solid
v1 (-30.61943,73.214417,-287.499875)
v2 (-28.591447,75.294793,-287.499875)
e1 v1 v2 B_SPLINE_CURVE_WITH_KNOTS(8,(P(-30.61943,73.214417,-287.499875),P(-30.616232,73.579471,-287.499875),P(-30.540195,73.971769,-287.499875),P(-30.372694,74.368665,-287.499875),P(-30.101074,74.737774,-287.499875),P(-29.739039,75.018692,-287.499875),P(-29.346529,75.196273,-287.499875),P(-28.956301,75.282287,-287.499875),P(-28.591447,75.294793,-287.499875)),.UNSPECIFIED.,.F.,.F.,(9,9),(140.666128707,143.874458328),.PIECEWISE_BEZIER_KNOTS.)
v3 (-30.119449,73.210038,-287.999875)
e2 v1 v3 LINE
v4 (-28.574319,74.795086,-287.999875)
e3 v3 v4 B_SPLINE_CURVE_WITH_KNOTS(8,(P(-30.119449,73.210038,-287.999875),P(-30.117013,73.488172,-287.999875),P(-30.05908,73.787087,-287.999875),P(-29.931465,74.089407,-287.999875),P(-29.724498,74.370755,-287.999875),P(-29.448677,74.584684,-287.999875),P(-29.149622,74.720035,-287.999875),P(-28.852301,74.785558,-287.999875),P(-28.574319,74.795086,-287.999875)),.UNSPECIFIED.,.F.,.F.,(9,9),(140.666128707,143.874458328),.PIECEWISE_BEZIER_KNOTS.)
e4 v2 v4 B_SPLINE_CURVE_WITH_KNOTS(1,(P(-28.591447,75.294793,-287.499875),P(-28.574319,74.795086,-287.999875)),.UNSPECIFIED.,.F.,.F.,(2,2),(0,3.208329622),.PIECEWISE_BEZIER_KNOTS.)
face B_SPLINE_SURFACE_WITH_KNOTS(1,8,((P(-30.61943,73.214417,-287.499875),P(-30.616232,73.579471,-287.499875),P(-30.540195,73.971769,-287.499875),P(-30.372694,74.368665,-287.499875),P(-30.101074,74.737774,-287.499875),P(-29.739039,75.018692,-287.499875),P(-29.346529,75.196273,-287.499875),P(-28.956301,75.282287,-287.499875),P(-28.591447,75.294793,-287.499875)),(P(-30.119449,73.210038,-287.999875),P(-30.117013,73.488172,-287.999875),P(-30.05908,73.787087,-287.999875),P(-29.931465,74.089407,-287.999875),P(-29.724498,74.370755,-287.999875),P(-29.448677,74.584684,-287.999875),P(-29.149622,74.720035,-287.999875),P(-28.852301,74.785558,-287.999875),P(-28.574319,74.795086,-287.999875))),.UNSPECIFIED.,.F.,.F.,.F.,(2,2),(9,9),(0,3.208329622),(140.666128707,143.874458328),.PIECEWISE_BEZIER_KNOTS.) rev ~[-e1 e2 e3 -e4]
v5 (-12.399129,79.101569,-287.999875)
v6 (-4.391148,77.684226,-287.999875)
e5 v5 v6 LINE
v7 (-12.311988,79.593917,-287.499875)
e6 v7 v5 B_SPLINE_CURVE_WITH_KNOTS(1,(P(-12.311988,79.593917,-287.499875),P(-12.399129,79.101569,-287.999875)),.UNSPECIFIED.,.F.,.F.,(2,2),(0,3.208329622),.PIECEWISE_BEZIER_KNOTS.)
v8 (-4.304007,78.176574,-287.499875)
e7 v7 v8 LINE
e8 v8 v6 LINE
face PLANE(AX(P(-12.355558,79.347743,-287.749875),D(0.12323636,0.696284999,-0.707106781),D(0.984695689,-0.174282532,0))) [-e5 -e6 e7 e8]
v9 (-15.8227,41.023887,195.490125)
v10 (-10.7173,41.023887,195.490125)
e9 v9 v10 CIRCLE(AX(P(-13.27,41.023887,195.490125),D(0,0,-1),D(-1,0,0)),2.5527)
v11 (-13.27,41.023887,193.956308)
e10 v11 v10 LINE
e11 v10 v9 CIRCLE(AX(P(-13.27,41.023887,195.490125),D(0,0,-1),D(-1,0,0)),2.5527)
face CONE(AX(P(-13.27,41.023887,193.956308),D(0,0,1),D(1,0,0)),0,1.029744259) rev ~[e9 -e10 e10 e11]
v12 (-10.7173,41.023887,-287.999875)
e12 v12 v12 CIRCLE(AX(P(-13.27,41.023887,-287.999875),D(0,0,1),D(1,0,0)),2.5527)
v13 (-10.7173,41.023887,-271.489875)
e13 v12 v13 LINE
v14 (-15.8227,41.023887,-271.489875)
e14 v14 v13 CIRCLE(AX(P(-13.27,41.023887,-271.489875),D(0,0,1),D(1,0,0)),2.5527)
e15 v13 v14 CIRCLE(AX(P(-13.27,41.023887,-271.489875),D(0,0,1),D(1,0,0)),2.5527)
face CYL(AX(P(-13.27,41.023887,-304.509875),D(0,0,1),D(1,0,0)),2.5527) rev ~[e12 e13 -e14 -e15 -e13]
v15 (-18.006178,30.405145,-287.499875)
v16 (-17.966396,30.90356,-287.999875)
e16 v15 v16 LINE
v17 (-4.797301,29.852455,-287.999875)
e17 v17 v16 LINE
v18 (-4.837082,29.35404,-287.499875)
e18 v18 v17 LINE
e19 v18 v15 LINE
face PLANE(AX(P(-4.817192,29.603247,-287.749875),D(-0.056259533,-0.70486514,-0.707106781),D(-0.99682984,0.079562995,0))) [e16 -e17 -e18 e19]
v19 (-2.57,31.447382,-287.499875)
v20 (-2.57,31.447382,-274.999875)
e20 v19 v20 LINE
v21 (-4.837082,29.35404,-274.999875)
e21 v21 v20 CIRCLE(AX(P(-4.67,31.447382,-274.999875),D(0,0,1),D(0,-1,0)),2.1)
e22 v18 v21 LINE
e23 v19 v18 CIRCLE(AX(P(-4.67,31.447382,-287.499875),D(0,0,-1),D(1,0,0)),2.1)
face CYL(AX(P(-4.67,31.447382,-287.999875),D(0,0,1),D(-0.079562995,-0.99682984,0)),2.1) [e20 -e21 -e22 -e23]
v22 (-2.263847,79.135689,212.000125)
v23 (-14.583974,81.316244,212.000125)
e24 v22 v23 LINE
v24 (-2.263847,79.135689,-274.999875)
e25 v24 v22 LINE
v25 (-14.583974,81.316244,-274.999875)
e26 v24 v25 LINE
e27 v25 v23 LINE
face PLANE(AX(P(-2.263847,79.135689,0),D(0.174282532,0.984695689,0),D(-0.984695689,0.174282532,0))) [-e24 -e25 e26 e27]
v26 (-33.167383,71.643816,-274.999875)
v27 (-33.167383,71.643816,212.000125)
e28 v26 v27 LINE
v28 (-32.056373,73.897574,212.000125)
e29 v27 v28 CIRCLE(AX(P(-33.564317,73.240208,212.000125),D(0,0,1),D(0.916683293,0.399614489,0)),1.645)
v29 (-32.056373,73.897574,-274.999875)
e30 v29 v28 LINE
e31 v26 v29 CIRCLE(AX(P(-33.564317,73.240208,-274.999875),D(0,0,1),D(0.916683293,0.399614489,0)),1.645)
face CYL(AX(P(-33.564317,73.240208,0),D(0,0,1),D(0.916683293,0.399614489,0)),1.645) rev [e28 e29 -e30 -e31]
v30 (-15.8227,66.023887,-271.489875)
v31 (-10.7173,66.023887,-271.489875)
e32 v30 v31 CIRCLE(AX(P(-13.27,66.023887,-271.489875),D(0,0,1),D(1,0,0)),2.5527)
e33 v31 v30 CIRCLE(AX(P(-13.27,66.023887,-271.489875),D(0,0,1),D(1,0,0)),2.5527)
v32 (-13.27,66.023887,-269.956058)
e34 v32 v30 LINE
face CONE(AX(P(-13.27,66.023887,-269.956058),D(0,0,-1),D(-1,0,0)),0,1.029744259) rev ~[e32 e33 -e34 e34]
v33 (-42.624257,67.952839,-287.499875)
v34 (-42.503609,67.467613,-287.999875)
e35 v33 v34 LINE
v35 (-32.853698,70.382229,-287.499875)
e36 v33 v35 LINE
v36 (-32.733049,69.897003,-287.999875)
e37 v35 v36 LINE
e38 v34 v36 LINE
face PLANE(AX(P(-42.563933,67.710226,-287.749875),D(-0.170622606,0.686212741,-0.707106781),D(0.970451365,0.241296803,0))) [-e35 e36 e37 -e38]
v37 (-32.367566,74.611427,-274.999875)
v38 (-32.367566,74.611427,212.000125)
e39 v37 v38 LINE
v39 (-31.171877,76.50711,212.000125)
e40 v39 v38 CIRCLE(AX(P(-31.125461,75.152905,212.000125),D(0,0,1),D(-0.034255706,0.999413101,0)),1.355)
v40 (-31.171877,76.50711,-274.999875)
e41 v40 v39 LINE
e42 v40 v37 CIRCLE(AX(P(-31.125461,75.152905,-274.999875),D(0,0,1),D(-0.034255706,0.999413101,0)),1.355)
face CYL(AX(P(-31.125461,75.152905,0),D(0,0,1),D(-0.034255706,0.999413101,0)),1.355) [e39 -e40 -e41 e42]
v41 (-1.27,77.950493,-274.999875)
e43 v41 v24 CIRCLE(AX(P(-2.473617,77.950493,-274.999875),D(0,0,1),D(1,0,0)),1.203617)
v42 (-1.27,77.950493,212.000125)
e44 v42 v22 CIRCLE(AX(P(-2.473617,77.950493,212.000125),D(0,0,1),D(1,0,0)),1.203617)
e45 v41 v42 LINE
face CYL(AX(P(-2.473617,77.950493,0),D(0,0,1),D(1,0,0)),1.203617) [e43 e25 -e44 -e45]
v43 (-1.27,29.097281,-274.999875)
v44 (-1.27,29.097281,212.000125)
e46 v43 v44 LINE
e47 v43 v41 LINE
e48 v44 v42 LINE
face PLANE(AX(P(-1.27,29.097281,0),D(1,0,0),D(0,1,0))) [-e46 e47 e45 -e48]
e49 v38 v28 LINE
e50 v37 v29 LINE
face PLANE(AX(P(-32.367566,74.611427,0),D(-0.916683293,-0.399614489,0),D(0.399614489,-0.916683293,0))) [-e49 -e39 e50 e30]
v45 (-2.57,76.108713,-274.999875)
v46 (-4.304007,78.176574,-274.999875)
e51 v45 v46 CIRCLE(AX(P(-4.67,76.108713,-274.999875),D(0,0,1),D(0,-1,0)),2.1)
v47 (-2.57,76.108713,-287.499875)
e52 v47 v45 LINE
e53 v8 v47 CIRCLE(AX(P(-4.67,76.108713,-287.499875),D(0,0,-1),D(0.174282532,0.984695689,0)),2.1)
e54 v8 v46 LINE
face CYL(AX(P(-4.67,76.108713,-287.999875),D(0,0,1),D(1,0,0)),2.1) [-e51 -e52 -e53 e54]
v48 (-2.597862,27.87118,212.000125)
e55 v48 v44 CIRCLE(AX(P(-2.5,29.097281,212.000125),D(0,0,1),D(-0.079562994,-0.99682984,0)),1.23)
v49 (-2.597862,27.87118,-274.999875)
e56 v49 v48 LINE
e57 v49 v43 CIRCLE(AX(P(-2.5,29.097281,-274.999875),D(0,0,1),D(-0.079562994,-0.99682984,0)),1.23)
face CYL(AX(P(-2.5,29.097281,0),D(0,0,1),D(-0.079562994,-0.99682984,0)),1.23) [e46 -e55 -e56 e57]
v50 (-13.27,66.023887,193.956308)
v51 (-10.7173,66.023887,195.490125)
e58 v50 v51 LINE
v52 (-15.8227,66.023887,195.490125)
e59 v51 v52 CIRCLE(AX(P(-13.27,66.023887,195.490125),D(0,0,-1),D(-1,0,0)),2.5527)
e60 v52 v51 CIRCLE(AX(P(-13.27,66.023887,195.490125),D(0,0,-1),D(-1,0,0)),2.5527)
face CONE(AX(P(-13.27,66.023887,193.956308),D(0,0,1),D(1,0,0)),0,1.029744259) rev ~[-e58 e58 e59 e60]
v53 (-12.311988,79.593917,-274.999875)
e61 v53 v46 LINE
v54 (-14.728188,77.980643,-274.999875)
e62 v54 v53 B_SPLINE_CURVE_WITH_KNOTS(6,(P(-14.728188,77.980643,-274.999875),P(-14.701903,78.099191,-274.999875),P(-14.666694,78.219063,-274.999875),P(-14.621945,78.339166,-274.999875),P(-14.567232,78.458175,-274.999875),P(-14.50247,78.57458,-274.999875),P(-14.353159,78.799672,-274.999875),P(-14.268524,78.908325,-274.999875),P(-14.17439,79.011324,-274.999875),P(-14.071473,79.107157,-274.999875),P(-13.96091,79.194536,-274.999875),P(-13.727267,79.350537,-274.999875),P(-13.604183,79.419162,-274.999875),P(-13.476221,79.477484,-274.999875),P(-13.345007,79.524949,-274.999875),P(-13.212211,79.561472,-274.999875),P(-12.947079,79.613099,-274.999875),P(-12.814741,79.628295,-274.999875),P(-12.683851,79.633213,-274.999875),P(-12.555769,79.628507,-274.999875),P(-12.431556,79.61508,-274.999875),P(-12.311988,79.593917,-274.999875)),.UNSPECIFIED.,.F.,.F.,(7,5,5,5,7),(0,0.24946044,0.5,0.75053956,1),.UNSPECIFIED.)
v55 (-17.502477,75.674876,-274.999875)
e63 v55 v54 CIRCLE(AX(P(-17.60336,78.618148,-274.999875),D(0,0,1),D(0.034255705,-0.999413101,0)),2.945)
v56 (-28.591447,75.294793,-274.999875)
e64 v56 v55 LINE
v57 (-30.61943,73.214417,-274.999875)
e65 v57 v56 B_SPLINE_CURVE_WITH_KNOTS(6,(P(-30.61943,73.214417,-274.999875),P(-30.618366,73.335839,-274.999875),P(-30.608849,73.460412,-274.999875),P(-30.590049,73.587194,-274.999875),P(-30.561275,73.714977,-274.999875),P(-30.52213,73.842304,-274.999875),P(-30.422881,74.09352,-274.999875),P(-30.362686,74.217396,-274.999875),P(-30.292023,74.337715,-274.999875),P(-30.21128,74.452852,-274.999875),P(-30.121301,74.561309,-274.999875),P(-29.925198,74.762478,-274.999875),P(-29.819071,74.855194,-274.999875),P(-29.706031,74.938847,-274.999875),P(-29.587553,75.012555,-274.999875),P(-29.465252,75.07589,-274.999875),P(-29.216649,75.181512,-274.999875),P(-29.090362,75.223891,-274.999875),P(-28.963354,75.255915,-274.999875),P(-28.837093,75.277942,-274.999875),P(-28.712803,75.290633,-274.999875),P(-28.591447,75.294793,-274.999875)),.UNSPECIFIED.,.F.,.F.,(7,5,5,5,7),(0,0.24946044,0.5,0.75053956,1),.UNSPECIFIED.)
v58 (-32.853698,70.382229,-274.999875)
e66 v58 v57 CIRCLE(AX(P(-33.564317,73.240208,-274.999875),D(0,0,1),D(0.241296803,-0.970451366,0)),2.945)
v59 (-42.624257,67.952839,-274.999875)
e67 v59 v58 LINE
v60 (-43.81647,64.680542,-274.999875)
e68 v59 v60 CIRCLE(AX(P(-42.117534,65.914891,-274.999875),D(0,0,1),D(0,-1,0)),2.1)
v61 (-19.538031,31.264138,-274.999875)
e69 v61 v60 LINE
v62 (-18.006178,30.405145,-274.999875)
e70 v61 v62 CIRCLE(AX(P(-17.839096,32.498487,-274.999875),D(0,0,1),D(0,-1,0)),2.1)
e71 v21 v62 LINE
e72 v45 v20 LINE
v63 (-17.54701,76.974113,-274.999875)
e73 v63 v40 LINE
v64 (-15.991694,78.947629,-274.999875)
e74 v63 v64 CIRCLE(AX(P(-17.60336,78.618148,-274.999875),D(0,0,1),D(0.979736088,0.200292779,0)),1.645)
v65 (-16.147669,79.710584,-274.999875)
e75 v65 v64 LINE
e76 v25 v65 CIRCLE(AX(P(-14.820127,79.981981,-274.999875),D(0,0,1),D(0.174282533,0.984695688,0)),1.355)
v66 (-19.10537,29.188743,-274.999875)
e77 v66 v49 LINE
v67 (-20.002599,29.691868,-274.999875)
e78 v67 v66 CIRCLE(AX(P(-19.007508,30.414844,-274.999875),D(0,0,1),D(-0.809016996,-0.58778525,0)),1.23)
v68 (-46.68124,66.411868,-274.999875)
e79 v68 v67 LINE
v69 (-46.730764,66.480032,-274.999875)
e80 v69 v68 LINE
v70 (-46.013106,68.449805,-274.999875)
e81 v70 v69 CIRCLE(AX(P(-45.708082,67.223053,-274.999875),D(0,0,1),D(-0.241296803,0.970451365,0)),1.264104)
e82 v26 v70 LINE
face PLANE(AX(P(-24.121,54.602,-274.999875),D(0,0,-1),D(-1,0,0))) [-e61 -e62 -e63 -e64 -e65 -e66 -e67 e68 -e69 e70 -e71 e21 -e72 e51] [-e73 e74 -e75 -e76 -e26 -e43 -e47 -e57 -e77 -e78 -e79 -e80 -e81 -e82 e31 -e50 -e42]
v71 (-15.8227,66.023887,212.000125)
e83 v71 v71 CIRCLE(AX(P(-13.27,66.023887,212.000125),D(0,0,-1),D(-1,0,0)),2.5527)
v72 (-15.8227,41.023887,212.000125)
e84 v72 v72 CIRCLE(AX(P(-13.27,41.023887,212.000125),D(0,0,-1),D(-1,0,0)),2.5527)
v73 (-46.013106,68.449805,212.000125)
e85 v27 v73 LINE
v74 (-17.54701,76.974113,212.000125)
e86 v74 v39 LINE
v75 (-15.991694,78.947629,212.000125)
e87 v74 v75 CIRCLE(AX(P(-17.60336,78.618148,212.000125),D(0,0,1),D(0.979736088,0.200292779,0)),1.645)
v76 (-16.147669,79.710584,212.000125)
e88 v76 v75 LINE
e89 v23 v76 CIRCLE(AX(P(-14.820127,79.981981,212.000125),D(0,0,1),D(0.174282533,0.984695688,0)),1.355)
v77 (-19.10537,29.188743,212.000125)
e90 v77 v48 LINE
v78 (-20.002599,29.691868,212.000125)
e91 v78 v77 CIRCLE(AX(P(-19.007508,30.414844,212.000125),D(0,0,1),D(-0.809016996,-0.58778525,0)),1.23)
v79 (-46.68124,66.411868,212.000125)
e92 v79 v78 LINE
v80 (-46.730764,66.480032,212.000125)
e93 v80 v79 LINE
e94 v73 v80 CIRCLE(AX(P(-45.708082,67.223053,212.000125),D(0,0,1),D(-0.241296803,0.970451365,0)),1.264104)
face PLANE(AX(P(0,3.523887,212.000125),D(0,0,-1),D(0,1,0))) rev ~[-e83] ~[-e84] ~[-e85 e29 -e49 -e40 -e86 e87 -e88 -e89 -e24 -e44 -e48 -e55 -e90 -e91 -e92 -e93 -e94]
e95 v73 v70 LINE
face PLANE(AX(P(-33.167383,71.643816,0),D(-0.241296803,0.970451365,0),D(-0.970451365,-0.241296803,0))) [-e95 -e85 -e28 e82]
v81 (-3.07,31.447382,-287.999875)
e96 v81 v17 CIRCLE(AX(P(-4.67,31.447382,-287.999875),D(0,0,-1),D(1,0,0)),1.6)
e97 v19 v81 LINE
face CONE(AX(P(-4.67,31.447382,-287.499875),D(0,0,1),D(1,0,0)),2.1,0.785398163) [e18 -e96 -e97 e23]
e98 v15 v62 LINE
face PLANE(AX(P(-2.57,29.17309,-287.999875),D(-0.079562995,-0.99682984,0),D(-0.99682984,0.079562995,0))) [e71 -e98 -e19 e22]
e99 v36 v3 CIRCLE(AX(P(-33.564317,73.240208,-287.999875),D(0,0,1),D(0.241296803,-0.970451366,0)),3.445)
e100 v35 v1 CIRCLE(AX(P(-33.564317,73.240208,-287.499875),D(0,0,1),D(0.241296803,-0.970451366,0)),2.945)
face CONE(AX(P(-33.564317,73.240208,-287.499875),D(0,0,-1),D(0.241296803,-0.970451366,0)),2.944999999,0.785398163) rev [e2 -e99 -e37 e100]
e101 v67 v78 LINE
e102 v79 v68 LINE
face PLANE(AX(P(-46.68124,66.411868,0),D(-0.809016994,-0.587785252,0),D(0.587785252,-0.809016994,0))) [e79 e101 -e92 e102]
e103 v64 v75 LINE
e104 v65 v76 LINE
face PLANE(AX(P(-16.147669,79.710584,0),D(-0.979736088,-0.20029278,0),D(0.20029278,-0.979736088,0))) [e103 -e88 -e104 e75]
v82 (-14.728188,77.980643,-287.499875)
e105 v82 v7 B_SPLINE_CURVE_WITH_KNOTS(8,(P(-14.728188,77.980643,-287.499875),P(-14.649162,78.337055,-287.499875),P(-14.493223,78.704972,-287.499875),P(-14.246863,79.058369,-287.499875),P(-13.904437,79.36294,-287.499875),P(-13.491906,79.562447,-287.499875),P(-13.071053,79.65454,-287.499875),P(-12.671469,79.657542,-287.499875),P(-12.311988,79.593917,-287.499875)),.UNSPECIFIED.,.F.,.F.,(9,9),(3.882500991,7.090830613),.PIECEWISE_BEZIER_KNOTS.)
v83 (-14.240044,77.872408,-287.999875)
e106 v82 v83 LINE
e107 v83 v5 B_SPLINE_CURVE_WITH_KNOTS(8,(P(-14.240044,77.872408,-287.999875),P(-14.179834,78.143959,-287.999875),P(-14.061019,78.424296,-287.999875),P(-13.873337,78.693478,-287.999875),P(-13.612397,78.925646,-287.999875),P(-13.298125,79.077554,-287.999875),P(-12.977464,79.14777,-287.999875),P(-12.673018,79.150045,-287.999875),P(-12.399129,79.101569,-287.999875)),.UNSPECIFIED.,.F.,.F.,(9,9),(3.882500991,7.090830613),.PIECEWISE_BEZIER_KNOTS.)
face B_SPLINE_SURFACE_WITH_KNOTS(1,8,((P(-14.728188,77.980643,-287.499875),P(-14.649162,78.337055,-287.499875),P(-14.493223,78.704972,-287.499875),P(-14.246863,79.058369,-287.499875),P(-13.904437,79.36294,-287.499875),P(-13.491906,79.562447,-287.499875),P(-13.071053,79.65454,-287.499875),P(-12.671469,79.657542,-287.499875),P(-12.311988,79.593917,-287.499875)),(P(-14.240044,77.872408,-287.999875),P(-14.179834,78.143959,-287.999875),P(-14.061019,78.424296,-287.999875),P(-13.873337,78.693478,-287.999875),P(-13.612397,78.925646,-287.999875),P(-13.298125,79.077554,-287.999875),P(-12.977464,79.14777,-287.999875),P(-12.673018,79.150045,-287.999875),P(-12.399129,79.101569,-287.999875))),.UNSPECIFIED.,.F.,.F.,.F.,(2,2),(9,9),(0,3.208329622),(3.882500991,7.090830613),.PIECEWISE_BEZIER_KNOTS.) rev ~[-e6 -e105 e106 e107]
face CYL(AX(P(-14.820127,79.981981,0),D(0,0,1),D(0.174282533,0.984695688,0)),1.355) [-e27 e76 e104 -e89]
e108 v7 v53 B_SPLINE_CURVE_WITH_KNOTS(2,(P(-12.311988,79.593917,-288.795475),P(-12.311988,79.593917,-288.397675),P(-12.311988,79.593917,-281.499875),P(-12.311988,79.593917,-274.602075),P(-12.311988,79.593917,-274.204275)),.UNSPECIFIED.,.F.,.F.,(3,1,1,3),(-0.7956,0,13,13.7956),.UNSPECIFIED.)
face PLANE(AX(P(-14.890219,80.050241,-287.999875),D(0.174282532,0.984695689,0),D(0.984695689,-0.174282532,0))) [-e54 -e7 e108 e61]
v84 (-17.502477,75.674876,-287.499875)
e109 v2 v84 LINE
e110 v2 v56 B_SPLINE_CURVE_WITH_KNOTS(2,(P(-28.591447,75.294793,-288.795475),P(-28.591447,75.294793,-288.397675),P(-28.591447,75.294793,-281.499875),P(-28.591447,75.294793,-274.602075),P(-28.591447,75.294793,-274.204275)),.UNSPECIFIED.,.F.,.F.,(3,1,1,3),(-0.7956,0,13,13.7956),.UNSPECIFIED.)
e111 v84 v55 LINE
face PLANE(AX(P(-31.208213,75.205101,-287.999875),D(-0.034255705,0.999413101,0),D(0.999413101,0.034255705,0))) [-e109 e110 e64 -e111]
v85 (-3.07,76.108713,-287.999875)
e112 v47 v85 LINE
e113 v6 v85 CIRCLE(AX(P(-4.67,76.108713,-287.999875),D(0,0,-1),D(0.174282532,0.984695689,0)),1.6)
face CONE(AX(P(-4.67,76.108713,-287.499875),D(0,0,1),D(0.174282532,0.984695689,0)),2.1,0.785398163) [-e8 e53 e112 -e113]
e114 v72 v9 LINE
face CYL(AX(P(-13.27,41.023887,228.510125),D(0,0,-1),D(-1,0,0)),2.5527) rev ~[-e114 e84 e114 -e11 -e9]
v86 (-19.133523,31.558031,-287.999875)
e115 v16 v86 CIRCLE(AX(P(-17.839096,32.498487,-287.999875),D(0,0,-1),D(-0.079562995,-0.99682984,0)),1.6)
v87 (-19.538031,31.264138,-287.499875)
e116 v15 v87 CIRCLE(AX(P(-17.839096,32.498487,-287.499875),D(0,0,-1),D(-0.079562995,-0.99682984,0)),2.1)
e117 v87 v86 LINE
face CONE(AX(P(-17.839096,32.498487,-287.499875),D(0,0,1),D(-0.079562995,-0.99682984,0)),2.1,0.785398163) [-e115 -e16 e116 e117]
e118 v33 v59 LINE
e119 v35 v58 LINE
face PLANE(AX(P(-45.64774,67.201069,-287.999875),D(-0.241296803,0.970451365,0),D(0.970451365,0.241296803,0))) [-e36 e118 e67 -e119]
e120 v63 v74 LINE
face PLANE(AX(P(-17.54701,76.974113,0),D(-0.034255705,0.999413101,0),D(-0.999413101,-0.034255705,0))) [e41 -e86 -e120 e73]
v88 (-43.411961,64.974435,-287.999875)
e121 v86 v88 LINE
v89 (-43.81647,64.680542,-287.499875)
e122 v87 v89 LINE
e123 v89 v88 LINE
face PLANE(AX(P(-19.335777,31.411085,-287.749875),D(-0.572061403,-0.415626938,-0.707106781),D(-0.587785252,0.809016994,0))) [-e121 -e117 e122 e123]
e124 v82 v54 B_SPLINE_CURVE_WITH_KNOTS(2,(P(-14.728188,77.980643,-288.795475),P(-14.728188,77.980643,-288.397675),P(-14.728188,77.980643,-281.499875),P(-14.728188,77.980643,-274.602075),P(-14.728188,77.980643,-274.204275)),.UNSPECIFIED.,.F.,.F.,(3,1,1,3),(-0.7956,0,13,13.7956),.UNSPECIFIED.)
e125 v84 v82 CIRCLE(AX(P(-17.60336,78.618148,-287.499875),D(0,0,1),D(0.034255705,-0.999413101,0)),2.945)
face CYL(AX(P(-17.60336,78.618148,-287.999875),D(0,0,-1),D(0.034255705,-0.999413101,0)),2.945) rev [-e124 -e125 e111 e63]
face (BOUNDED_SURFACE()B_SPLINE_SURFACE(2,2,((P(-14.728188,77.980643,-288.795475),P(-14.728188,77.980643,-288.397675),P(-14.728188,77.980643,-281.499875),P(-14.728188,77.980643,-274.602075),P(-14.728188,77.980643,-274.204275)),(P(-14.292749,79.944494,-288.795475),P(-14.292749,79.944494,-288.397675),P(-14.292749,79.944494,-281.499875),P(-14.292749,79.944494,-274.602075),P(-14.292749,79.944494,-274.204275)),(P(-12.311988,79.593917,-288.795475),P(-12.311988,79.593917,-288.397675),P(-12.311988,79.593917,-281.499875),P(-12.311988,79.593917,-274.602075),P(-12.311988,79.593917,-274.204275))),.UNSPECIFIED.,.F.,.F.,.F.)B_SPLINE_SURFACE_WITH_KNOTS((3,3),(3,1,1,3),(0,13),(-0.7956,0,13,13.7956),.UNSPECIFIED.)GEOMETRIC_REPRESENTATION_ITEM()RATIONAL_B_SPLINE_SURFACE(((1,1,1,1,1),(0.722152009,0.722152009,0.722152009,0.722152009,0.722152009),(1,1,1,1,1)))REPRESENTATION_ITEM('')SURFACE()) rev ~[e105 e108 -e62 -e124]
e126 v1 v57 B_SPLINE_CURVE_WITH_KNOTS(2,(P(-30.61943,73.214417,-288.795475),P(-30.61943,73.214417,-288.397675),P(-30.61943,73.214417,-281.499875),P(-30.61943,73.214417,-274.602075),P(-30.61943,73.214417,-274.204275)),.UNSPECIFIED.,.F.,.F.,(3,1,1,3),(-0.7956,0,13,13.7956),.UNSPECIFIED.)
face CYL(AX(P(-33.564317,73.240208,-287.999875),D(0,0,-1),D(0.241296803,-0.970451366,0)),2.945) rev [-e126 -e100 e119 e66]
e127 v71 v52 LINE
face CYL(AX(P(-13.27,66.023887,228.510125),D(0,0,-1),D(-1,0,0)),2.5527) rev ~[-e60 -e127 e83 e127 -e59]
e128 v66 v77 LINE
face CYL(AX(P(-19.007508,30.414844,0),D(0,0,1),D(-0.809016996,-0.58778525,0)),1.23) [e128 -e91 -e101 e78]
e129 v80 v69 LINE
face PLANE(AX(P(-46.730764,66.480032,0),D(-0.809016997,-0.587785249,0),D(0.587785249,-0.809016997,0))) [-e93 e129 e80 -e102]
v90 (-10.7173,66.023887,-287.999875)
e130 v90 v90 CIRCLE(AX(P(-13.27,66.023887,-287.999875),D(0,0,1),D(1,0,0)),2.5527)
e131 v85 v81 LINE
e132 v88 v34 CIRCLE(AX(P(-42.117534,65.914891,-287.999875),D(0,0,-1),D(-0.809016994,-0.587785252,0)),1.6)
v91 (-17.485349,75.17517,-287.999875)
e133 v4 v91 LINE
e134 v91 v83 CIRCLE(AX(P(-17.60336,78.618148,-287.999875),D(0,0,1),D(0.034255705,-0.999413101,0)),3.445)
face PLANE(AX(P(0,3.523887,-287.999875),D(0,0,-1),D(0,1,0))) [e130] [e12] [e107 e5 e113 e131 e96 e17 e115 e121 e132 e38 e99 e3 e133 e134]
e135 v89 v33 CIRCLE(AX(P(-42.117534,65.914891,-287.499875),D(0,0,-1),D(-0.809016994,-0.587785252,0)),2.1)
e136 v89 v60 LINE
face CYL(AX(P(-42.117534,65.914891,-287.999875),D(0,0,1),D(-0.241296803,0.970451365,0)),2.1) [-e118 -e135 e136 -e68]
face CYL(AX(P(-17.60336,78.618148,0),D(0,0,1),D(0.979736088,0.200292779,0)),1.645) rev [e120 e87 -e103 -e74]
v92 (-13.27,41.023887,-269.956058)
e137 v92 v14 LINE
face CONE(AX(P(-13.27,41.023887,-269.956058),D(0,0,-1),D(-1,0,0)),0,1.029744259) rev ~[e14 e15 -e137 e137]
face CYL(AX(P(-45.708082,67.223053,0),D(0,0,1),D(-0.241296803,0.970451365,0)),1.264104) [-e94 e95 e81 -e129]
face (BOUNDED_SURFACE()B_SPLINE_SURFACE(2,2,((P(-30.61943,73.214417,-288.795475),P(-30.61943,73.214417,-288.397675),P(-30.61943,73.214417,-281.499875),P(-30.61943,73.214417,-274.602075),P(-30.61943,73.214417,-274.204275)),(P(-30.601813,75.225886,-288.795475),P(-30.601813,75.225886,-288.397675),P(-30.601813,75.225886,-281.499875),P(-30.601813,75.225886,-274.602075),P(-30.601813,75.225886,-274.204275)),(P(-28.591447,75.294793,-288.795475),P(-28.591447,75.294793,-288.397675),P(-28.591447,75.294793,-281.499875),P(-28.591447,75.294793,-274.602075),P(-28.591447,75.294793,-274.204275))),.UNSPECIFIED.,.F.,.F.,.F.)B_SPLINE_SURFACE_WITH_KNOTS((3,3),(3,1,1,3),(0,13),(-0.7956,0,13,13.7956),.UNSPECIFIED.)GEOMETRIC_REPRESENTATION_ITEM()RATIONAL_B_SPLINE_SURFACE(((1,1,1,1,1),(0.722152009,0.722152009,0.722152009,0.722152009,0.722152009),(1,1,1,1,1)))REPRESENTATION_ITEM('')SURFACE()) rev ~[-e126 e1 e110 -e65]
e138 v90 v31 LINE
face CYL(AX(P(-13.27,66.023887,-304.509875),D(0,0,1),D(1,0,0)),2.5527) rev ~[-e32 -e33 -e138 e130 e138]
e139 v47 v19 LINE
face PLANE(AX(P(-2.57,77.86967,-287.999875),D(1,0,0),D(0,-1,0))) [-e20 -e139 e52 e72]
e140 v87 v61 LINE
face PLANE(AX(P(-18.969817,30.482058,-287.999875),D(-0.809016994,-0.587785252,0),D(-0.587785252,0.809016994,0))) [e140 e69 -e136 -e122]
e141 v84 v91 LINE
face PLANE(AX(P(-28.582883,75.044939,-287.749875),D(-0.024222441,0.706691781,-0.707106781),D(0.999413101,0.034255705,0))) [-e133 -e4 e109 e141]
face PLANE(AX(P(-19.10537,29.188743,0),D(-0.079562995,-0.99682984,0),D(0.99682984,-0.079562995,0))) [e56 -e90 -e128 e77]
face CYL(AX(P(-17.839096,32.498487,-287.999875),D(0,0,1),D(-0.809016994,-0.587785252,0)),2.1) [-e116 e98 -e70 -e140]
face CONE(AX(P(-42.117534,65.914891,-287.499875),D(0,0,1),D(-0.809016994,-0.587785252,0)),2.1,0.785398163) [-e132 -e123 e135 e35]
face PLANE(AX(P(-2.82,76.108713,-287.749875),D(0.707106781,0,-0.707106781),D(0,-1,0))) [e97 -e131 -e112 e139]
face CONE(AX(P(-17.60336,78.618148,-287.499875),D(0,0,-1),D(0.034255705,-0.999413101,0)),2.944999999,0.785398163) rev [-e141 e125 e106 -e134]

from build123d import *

# Parameters (mm, degrees)
EXTRUDE_THIN1_DEPTH                   = 137.50025
EXTRUDE_THIN1_DEPTH_BACK              = 213.5
BOSS_EXTRUDE1_DEPTH                   = 212.50025
BOSS_EXTRUDE1_DEPTH_BACK              = 288.5
SKETCH3_OUTSIDE_W                     = 604.182
SKETCH3_OUTSIDE_H                     = 156.652
SKETCH3_OUTSIDE_W_2                   = 500
SKETCH3_OUTSIDE_H_2                   = 100
CUT_EXTRUDE1_DEPTH                    = 47.972186303
F_1_4_20_TAPPED_HOLE1_D               = 5.1054
F_1_4_20_TAPPED_HOLE1_DEPTH           = 16.51
F_1_4_20_TAPPED_HOLE1_TIP             = 1.533816902
F_1_4_20_TAPPED_HOLE1_ON_FACE_2_D     = 5.1054
F_1_4_20_TAPPED_HOLE1_ON_FACE_2_DEPTH = 16.51
F_1_4_20_TAPPED_HOLE1_ON_FACE_2_TIP   = 1.533816902
SKETCH5_OUTSIDE_W                     = 148.686
SKETCH5_OUTSIDE_H                     = 156.454
CUT_EXTRUDE2_DEPTH                    = 13
FILLET3_R                             = 2.1
FILLET4_R                             = 2.1
CHAMFER1_SIZE                         = 0.5


with BuildPart() as part:
    # Sketch1 → Extrude-Thin1 (new body, two sides)
    with BuildSketch(Plane.XY) as extrude_thin1_sk:
        with BuildLine():
            Line((-1, 29.097280522), (-1, 77.801426037))
            ThreePointArc((-1, 77.801426037), (-1.350622843, 78.7652373), (-2.238576202, 79.27846957))
            Line((-2.238576202, 79.27846957), (-14.558703222, 81.459024393))
            ThreePointArc((-14.558703222, 81.459024393), (-15.894736772, 81.028505528), (-16.289731153, 79.68154169))
            Line((-16.289731153, 79.68154169), (-16.133756175, 78.918587006))
            ThreePointArc((-16.133756175, 78.918587006), (-16.425245764, 77.689683446), (-17.55197675, 77.119028185))
            Line((-17.55197675, 77.119028185), (-31.176844121, 76.652024665))
            ThreePointArc((-31.176844121, 76.652024665), (-32.394172227, 75.953136676), (-32.500485503, 74.55348328))
            Line((-32.500485503, 74.55348328), (-32.189291755, 73.839630008))
            ThreePointArc((-32.189291755, 73.839630008), (-32.21890818, 72.576976846), (-33.20237149, 71.784531227))
            Line((-33.20237149, 71.784531227), (-46.048094305, 68.590520727))
            ThreePointArc((-46.048094305, 68.590520727), (-47.095522717, 67.648327863), (-46.899674591, 66.2531658))
            Line((-46.899674591, 66.2531658), (-20.221033316, 29.533166286))
            ThreePointArc((-20.221033316, 29.533166286), (-19.7411642, 29.106506164), (-19.126852316, 28.919599404))
            Line((-19.126852316, 28.919599404), (-2.619344492, 27.602035762))
            ThreePointArc((-2.619344492, 27.602035762), (-1.482408908, 27.995233168), (-1, 29.097280522))
        make_face()
        with BuildLine():
            Line((-1.27, 29.097280522), (-1.27, 77.801426037))
            ThreePointArc((-1.27, 77.801426037), (-1.557510731, 78.591751273), (-2.285632486, 79.012601734))
            Line((-2.285632486, 79.012601734), (-14.605759506, 81.193156557))
            ThreePointArc((-14.605759506, 81.193156557), (-15.701307017, 80.840131088), (-16.025202409, 79.735620741))
            Line((-16.025202409, 79.735620741), (-15.869227431, 78.972666057))
            ThreePointArc((-15.869227431, 78.972666057), (-16.213185147, 77.522559856), (-17.542727709, 76.849186648))
            Line((-17.542727709, 76.849186648), (-31.16759508, 76.382183127))
            ThreePointArc((-31.16759508, 76.382183127), (-32.165804128, 75.809094976), (-32.252981014, 74.661379192))
            Line((-32.252981014, 74.661379192), (-31.941787266, 73.94752592))
            ThreePointArc((-31.941787266, 73.94752592), (-31.976734648, 72.457595189), (-33.137221353, 71.522509358))
            Line((-33.137221353, 71.522509358), (-45.982944168, 68.328498858))
            ThreePointArc((-45.982944168, 68.328498858), (-46.841835466, 67.55590071), (-46.681240003, 66.411867819))
            Line((-46.681240003, 66.411867819), (-20.002598727, 29.691868304))
            ThreePointArc((-20.002598727, 29.691868304), (-19.609106053, 29.342007004), (-19.105370308, 29.188743461))
            Line((-19.105370308, 29.188743461), (-2.597862483, 27.871179818))
            ThreePointArc((-2.597862483, 27.871179818), (-1.665575304, 28.193601692), (-1.27, 29.097280522))
        make_face(mode=Mode.SUBTRACT)
    extrude(amount=EXTRUDE_THIN1_DEPTH)
    extrude(extrude_thin1_sk.sketch, amount=-EXTRUDE_THIN1_DEPTH_BACK)


with BuildPart() as body_2:
    # Sketch2 → Boss-Extrude1 (new body, two sides)
    with BuildSketch(Plane.XY) as boss_extrude1_sk:
        with BuildLine():
            Line((-46.68124, 66.411867814), (-20.002598727, 29.691868304))
            ThreePointArc((-20.002598727, 29.691868304), (-19.609106053, 29.342007004), (-19.105370308, 29.188743461))
            Line((-19.105370308, 29.188743461), (-2.597862483, 27.871179818))
            ThreePointArc((-2.597862483, 27.871179818), (-1.665575304, 28.193601692), (-1.27, 29.097280522))
            Line((-1.27, 29.097280522), (-1.27, 77.801426032))
            Line((-1.27, 77.801426032), (-1.27, 77.950492716))
            ThreePointArc((-1.27, 77.950492716), (-1.551343626, 78.723865476), (-2.263847169, 79.135688695))
            Line((-2.263847169, 79.135688695), (-14.583974189, 81.316243518))
            ThreePointArc((-14.583974189, 81.316243518), (-15.79085783, 80.927341477), (-16.14766942, 79.710584143))
            Line((-16.14766942, 79.710584143), (-15.991694442, 78.947629459))
            ThreePointArc((-15.991694442, 78.947629459), (-16.311361359, 77.599931889), (-17.547009673, 76.974113285))
            Line((-17.547009673, 76.974113285), (-31.171877043, 76.507109765))
            ThreePointArc((-31.171877043, 76.507109765), (-32.271530099, 75.875780948), (-32.367566426, 74.611427381))
            Line((-32.367566426, 74.611427381), (-32.056372677, 73.897574109))
            ThreePointArc((-32.056372677, 73.897574109), (-32.088852024, 72.512864474), (-33.167383454, 71.643815779))
            Line((-33.167383454, 71.643815779), (-46.013106268, 68.449805279))
            ThreePointArc((-46.013106268, 68.449805279), (-46.895812164, 67.655785195), (-46.730763849, 66.480031545))
            Line((-46.730763849, 66.480031545), (-46.68124, 66.411867814))
        make_face()
    extrude(amount=BOSS_EXTRUDE1_DEPTH)
    extrude(boss_extrude1_sk.sketch, amount=-BOSS_EXTRUDE1_DEPTH_BACK)

    # Sketch3 outside → Cut-Extrude1 (cut, through all)
    with BuildSketch(Plane(origin=(0, 0, 0), x_dir=(0, 0, -1), z_dir=(1, 0, 0))):
        with Locations((38, 54.602)):
            Rectangle(SKETCH3_OUTSIDE_W, SKETCH3_OUTSIDE_H)
        with Locations((37.999875, 53.523886616)):
            Rectangle(SKETCH3_OUTSIDE_W_2, SKETCH3_OUTSIDE_H_2, mode=Mode.SUBTRACT)
    extrude(amount=-CUT_EXTRUDE1_DEPTH, mode=Mode.SUBTRACT)

    # 1/4-20 Tapped Hole1
    with Locations(Plane(origin=(-13.27, 66.023886616, 212.000125), x_dir=(1, 0, 0), z_dir=(0, 0, 1))):
        with Locations((0, 0), (0, -25)):
            Hole(F_1_4_20_TAPPED_HOLE1_D / 2, depth=F_1_4_20_TAPPED_HOLE1_DEPTH)
            with Locations((0, 0, -(F_1_4_20_TAPPED_HOLE1_DEPTH + F_1_4_20_TAPPED_HOLE1_TIP / 2))):  # 118° drill point
                Cone(0, F_1_4_20_TAPPED_HOLE1_D / 2, F_1_4_20_TAPPED_HOLE1_TIP, mode=Mode.SUBTRACT)

    # 1/4-20 Tapped Hole1 on face 2
    with Locations(Plane(origin=(-13.27, 66.023886616, -287.999875), x_dir=(-1, 0, 0), z_dir=(0, 0, -1))):
        with Locations((0, 0), (0, -25)):
            Hole(F_1_4_20_TAPPED_HOLE1_ON_FACE_2_D / 2, depth=F_1_4_20_TAPPED_HOLE1_ON_FACE_2_DEPTH)
            with Locations((0, 0, -(F_1_4_20_TAPPED_HOLE1_ON_FACE_2_DEPTH + F_1_4_20_TAPPED_HOLE1_ON_FACE_2_TIP / 2))):  # 118° drill point
                Cone(0, F_1_4_20_TAPPED_HOLE1_ON_FACE_2_D / 2, F_1_4_20_TAPPED_HOLE1_ON_FACE_2_TIP, mode=Mode.SUBTRACT)

    # Sketch5 outside → Cut-Extrude2 (cut)
    with BuildSketch(Plane(origin=(0, 0, -287.999875), x_dir=(-1, 0, 0), z_dir=(0, 0, -1))):
        with Locations((24.121, 54.602)):
            Rectangle(SKETCH5_OUTSIDE_W, SKETCH5_OUTSIDE_H)
        with BuildLine():
            Line((2.57, 29.17309026), (18.969817109, 30.482058458))
            Line((18.969817109, 30.482058458), (45.647739584, 67.201068629))
            Line((45.647739584, 67.201068629), (32.853697609, 70.382229004))
            ThreePointArc((32.853697609, 70.382229004), (30.922831311, 71.938063902), (30.864684396, 74.417072944))
            Line((30.864684396, 74.417072944), (31.208213492, 75.205100887))
            Line((31.208213492, 75.205100887), (17.502477256, 75.674876254))
            ThreePointArc((17.502477256, 75.674876254), (15.290328755, 76.79526275), (14.718037528, 79.208010073))
            Line((14.718037528, 79.208010073), (14.890219467, 80.05024143))
            Line((14.890219467, 80.05024143), (2.57, 77.869670245))
            Line((2.57, 77.869670245), (2.57, 29.17309026))
        make_face(mode=Mode.SUBTRACT)
    extrude(amount=-CUT_EXTRUDE2_DEPTH, mode=Mode.SUBTRACT)

    # Fillet3
    fillet3_edges = [body_2.edges().sort_by_distance(p)[0] for p in [
        (-31.208213492, 75.205100887, -281.499875),
    ]]
    fillet(fillet3_edges, radius=FILLET3_R)

    # Fillet4
    fillet4_edges = [body_2.edges().sort_by_distance(p)[0] for p in [
        (-2.57, 29.17309026, -281.499875),
        (-18.969817109, 30.482058458, -281.499875),
        (-2.57, 77.869670245, -281.499875),
        (-45.647739584, 67.201068629, -281.499875),
        (-14.890219467, 80.05024143, -281.499875),
    ]]
    fillet(fillet4_edges, radius=FILLET4_R)

    # Chamfer1
    chamfer1_edges = [body_2.edges().sort_by_distance(p)[0] for p in [
        (-15.720977232, 76.353272794, -287.999875),
        (-31.252174207, 71.416195634, -287.999875),
        (-23.046962204, 75.484834478, -287.999875),
        (-30.023249286, 74.661893082, -287.999875),
        (-2.57, 53.778047874, -287.999875),
        (-8.307997228, 78.885245613, -287.999875),
        (-11.421630112, 29.879592183, -287.999875),
        (-31.677250598, 47.972340168, -287.999875),
        (-37.738977535, 69.167533996, -287.999875),
        (-13.844088825, 79.272536107, -287.999875),
        (-44.090657237, 66.633768979, -287.999875),
        (-3.06087198, 77.458049098, -287.999875),
        (-18.866214572, 30.666814075, -287.999875),
        (-3.245372471, 29.904516124, -287.999875),
    ]]
    chamfer(chamfer1_edges, length=CHAMFER1_SIZE)


solid = body_2.part
